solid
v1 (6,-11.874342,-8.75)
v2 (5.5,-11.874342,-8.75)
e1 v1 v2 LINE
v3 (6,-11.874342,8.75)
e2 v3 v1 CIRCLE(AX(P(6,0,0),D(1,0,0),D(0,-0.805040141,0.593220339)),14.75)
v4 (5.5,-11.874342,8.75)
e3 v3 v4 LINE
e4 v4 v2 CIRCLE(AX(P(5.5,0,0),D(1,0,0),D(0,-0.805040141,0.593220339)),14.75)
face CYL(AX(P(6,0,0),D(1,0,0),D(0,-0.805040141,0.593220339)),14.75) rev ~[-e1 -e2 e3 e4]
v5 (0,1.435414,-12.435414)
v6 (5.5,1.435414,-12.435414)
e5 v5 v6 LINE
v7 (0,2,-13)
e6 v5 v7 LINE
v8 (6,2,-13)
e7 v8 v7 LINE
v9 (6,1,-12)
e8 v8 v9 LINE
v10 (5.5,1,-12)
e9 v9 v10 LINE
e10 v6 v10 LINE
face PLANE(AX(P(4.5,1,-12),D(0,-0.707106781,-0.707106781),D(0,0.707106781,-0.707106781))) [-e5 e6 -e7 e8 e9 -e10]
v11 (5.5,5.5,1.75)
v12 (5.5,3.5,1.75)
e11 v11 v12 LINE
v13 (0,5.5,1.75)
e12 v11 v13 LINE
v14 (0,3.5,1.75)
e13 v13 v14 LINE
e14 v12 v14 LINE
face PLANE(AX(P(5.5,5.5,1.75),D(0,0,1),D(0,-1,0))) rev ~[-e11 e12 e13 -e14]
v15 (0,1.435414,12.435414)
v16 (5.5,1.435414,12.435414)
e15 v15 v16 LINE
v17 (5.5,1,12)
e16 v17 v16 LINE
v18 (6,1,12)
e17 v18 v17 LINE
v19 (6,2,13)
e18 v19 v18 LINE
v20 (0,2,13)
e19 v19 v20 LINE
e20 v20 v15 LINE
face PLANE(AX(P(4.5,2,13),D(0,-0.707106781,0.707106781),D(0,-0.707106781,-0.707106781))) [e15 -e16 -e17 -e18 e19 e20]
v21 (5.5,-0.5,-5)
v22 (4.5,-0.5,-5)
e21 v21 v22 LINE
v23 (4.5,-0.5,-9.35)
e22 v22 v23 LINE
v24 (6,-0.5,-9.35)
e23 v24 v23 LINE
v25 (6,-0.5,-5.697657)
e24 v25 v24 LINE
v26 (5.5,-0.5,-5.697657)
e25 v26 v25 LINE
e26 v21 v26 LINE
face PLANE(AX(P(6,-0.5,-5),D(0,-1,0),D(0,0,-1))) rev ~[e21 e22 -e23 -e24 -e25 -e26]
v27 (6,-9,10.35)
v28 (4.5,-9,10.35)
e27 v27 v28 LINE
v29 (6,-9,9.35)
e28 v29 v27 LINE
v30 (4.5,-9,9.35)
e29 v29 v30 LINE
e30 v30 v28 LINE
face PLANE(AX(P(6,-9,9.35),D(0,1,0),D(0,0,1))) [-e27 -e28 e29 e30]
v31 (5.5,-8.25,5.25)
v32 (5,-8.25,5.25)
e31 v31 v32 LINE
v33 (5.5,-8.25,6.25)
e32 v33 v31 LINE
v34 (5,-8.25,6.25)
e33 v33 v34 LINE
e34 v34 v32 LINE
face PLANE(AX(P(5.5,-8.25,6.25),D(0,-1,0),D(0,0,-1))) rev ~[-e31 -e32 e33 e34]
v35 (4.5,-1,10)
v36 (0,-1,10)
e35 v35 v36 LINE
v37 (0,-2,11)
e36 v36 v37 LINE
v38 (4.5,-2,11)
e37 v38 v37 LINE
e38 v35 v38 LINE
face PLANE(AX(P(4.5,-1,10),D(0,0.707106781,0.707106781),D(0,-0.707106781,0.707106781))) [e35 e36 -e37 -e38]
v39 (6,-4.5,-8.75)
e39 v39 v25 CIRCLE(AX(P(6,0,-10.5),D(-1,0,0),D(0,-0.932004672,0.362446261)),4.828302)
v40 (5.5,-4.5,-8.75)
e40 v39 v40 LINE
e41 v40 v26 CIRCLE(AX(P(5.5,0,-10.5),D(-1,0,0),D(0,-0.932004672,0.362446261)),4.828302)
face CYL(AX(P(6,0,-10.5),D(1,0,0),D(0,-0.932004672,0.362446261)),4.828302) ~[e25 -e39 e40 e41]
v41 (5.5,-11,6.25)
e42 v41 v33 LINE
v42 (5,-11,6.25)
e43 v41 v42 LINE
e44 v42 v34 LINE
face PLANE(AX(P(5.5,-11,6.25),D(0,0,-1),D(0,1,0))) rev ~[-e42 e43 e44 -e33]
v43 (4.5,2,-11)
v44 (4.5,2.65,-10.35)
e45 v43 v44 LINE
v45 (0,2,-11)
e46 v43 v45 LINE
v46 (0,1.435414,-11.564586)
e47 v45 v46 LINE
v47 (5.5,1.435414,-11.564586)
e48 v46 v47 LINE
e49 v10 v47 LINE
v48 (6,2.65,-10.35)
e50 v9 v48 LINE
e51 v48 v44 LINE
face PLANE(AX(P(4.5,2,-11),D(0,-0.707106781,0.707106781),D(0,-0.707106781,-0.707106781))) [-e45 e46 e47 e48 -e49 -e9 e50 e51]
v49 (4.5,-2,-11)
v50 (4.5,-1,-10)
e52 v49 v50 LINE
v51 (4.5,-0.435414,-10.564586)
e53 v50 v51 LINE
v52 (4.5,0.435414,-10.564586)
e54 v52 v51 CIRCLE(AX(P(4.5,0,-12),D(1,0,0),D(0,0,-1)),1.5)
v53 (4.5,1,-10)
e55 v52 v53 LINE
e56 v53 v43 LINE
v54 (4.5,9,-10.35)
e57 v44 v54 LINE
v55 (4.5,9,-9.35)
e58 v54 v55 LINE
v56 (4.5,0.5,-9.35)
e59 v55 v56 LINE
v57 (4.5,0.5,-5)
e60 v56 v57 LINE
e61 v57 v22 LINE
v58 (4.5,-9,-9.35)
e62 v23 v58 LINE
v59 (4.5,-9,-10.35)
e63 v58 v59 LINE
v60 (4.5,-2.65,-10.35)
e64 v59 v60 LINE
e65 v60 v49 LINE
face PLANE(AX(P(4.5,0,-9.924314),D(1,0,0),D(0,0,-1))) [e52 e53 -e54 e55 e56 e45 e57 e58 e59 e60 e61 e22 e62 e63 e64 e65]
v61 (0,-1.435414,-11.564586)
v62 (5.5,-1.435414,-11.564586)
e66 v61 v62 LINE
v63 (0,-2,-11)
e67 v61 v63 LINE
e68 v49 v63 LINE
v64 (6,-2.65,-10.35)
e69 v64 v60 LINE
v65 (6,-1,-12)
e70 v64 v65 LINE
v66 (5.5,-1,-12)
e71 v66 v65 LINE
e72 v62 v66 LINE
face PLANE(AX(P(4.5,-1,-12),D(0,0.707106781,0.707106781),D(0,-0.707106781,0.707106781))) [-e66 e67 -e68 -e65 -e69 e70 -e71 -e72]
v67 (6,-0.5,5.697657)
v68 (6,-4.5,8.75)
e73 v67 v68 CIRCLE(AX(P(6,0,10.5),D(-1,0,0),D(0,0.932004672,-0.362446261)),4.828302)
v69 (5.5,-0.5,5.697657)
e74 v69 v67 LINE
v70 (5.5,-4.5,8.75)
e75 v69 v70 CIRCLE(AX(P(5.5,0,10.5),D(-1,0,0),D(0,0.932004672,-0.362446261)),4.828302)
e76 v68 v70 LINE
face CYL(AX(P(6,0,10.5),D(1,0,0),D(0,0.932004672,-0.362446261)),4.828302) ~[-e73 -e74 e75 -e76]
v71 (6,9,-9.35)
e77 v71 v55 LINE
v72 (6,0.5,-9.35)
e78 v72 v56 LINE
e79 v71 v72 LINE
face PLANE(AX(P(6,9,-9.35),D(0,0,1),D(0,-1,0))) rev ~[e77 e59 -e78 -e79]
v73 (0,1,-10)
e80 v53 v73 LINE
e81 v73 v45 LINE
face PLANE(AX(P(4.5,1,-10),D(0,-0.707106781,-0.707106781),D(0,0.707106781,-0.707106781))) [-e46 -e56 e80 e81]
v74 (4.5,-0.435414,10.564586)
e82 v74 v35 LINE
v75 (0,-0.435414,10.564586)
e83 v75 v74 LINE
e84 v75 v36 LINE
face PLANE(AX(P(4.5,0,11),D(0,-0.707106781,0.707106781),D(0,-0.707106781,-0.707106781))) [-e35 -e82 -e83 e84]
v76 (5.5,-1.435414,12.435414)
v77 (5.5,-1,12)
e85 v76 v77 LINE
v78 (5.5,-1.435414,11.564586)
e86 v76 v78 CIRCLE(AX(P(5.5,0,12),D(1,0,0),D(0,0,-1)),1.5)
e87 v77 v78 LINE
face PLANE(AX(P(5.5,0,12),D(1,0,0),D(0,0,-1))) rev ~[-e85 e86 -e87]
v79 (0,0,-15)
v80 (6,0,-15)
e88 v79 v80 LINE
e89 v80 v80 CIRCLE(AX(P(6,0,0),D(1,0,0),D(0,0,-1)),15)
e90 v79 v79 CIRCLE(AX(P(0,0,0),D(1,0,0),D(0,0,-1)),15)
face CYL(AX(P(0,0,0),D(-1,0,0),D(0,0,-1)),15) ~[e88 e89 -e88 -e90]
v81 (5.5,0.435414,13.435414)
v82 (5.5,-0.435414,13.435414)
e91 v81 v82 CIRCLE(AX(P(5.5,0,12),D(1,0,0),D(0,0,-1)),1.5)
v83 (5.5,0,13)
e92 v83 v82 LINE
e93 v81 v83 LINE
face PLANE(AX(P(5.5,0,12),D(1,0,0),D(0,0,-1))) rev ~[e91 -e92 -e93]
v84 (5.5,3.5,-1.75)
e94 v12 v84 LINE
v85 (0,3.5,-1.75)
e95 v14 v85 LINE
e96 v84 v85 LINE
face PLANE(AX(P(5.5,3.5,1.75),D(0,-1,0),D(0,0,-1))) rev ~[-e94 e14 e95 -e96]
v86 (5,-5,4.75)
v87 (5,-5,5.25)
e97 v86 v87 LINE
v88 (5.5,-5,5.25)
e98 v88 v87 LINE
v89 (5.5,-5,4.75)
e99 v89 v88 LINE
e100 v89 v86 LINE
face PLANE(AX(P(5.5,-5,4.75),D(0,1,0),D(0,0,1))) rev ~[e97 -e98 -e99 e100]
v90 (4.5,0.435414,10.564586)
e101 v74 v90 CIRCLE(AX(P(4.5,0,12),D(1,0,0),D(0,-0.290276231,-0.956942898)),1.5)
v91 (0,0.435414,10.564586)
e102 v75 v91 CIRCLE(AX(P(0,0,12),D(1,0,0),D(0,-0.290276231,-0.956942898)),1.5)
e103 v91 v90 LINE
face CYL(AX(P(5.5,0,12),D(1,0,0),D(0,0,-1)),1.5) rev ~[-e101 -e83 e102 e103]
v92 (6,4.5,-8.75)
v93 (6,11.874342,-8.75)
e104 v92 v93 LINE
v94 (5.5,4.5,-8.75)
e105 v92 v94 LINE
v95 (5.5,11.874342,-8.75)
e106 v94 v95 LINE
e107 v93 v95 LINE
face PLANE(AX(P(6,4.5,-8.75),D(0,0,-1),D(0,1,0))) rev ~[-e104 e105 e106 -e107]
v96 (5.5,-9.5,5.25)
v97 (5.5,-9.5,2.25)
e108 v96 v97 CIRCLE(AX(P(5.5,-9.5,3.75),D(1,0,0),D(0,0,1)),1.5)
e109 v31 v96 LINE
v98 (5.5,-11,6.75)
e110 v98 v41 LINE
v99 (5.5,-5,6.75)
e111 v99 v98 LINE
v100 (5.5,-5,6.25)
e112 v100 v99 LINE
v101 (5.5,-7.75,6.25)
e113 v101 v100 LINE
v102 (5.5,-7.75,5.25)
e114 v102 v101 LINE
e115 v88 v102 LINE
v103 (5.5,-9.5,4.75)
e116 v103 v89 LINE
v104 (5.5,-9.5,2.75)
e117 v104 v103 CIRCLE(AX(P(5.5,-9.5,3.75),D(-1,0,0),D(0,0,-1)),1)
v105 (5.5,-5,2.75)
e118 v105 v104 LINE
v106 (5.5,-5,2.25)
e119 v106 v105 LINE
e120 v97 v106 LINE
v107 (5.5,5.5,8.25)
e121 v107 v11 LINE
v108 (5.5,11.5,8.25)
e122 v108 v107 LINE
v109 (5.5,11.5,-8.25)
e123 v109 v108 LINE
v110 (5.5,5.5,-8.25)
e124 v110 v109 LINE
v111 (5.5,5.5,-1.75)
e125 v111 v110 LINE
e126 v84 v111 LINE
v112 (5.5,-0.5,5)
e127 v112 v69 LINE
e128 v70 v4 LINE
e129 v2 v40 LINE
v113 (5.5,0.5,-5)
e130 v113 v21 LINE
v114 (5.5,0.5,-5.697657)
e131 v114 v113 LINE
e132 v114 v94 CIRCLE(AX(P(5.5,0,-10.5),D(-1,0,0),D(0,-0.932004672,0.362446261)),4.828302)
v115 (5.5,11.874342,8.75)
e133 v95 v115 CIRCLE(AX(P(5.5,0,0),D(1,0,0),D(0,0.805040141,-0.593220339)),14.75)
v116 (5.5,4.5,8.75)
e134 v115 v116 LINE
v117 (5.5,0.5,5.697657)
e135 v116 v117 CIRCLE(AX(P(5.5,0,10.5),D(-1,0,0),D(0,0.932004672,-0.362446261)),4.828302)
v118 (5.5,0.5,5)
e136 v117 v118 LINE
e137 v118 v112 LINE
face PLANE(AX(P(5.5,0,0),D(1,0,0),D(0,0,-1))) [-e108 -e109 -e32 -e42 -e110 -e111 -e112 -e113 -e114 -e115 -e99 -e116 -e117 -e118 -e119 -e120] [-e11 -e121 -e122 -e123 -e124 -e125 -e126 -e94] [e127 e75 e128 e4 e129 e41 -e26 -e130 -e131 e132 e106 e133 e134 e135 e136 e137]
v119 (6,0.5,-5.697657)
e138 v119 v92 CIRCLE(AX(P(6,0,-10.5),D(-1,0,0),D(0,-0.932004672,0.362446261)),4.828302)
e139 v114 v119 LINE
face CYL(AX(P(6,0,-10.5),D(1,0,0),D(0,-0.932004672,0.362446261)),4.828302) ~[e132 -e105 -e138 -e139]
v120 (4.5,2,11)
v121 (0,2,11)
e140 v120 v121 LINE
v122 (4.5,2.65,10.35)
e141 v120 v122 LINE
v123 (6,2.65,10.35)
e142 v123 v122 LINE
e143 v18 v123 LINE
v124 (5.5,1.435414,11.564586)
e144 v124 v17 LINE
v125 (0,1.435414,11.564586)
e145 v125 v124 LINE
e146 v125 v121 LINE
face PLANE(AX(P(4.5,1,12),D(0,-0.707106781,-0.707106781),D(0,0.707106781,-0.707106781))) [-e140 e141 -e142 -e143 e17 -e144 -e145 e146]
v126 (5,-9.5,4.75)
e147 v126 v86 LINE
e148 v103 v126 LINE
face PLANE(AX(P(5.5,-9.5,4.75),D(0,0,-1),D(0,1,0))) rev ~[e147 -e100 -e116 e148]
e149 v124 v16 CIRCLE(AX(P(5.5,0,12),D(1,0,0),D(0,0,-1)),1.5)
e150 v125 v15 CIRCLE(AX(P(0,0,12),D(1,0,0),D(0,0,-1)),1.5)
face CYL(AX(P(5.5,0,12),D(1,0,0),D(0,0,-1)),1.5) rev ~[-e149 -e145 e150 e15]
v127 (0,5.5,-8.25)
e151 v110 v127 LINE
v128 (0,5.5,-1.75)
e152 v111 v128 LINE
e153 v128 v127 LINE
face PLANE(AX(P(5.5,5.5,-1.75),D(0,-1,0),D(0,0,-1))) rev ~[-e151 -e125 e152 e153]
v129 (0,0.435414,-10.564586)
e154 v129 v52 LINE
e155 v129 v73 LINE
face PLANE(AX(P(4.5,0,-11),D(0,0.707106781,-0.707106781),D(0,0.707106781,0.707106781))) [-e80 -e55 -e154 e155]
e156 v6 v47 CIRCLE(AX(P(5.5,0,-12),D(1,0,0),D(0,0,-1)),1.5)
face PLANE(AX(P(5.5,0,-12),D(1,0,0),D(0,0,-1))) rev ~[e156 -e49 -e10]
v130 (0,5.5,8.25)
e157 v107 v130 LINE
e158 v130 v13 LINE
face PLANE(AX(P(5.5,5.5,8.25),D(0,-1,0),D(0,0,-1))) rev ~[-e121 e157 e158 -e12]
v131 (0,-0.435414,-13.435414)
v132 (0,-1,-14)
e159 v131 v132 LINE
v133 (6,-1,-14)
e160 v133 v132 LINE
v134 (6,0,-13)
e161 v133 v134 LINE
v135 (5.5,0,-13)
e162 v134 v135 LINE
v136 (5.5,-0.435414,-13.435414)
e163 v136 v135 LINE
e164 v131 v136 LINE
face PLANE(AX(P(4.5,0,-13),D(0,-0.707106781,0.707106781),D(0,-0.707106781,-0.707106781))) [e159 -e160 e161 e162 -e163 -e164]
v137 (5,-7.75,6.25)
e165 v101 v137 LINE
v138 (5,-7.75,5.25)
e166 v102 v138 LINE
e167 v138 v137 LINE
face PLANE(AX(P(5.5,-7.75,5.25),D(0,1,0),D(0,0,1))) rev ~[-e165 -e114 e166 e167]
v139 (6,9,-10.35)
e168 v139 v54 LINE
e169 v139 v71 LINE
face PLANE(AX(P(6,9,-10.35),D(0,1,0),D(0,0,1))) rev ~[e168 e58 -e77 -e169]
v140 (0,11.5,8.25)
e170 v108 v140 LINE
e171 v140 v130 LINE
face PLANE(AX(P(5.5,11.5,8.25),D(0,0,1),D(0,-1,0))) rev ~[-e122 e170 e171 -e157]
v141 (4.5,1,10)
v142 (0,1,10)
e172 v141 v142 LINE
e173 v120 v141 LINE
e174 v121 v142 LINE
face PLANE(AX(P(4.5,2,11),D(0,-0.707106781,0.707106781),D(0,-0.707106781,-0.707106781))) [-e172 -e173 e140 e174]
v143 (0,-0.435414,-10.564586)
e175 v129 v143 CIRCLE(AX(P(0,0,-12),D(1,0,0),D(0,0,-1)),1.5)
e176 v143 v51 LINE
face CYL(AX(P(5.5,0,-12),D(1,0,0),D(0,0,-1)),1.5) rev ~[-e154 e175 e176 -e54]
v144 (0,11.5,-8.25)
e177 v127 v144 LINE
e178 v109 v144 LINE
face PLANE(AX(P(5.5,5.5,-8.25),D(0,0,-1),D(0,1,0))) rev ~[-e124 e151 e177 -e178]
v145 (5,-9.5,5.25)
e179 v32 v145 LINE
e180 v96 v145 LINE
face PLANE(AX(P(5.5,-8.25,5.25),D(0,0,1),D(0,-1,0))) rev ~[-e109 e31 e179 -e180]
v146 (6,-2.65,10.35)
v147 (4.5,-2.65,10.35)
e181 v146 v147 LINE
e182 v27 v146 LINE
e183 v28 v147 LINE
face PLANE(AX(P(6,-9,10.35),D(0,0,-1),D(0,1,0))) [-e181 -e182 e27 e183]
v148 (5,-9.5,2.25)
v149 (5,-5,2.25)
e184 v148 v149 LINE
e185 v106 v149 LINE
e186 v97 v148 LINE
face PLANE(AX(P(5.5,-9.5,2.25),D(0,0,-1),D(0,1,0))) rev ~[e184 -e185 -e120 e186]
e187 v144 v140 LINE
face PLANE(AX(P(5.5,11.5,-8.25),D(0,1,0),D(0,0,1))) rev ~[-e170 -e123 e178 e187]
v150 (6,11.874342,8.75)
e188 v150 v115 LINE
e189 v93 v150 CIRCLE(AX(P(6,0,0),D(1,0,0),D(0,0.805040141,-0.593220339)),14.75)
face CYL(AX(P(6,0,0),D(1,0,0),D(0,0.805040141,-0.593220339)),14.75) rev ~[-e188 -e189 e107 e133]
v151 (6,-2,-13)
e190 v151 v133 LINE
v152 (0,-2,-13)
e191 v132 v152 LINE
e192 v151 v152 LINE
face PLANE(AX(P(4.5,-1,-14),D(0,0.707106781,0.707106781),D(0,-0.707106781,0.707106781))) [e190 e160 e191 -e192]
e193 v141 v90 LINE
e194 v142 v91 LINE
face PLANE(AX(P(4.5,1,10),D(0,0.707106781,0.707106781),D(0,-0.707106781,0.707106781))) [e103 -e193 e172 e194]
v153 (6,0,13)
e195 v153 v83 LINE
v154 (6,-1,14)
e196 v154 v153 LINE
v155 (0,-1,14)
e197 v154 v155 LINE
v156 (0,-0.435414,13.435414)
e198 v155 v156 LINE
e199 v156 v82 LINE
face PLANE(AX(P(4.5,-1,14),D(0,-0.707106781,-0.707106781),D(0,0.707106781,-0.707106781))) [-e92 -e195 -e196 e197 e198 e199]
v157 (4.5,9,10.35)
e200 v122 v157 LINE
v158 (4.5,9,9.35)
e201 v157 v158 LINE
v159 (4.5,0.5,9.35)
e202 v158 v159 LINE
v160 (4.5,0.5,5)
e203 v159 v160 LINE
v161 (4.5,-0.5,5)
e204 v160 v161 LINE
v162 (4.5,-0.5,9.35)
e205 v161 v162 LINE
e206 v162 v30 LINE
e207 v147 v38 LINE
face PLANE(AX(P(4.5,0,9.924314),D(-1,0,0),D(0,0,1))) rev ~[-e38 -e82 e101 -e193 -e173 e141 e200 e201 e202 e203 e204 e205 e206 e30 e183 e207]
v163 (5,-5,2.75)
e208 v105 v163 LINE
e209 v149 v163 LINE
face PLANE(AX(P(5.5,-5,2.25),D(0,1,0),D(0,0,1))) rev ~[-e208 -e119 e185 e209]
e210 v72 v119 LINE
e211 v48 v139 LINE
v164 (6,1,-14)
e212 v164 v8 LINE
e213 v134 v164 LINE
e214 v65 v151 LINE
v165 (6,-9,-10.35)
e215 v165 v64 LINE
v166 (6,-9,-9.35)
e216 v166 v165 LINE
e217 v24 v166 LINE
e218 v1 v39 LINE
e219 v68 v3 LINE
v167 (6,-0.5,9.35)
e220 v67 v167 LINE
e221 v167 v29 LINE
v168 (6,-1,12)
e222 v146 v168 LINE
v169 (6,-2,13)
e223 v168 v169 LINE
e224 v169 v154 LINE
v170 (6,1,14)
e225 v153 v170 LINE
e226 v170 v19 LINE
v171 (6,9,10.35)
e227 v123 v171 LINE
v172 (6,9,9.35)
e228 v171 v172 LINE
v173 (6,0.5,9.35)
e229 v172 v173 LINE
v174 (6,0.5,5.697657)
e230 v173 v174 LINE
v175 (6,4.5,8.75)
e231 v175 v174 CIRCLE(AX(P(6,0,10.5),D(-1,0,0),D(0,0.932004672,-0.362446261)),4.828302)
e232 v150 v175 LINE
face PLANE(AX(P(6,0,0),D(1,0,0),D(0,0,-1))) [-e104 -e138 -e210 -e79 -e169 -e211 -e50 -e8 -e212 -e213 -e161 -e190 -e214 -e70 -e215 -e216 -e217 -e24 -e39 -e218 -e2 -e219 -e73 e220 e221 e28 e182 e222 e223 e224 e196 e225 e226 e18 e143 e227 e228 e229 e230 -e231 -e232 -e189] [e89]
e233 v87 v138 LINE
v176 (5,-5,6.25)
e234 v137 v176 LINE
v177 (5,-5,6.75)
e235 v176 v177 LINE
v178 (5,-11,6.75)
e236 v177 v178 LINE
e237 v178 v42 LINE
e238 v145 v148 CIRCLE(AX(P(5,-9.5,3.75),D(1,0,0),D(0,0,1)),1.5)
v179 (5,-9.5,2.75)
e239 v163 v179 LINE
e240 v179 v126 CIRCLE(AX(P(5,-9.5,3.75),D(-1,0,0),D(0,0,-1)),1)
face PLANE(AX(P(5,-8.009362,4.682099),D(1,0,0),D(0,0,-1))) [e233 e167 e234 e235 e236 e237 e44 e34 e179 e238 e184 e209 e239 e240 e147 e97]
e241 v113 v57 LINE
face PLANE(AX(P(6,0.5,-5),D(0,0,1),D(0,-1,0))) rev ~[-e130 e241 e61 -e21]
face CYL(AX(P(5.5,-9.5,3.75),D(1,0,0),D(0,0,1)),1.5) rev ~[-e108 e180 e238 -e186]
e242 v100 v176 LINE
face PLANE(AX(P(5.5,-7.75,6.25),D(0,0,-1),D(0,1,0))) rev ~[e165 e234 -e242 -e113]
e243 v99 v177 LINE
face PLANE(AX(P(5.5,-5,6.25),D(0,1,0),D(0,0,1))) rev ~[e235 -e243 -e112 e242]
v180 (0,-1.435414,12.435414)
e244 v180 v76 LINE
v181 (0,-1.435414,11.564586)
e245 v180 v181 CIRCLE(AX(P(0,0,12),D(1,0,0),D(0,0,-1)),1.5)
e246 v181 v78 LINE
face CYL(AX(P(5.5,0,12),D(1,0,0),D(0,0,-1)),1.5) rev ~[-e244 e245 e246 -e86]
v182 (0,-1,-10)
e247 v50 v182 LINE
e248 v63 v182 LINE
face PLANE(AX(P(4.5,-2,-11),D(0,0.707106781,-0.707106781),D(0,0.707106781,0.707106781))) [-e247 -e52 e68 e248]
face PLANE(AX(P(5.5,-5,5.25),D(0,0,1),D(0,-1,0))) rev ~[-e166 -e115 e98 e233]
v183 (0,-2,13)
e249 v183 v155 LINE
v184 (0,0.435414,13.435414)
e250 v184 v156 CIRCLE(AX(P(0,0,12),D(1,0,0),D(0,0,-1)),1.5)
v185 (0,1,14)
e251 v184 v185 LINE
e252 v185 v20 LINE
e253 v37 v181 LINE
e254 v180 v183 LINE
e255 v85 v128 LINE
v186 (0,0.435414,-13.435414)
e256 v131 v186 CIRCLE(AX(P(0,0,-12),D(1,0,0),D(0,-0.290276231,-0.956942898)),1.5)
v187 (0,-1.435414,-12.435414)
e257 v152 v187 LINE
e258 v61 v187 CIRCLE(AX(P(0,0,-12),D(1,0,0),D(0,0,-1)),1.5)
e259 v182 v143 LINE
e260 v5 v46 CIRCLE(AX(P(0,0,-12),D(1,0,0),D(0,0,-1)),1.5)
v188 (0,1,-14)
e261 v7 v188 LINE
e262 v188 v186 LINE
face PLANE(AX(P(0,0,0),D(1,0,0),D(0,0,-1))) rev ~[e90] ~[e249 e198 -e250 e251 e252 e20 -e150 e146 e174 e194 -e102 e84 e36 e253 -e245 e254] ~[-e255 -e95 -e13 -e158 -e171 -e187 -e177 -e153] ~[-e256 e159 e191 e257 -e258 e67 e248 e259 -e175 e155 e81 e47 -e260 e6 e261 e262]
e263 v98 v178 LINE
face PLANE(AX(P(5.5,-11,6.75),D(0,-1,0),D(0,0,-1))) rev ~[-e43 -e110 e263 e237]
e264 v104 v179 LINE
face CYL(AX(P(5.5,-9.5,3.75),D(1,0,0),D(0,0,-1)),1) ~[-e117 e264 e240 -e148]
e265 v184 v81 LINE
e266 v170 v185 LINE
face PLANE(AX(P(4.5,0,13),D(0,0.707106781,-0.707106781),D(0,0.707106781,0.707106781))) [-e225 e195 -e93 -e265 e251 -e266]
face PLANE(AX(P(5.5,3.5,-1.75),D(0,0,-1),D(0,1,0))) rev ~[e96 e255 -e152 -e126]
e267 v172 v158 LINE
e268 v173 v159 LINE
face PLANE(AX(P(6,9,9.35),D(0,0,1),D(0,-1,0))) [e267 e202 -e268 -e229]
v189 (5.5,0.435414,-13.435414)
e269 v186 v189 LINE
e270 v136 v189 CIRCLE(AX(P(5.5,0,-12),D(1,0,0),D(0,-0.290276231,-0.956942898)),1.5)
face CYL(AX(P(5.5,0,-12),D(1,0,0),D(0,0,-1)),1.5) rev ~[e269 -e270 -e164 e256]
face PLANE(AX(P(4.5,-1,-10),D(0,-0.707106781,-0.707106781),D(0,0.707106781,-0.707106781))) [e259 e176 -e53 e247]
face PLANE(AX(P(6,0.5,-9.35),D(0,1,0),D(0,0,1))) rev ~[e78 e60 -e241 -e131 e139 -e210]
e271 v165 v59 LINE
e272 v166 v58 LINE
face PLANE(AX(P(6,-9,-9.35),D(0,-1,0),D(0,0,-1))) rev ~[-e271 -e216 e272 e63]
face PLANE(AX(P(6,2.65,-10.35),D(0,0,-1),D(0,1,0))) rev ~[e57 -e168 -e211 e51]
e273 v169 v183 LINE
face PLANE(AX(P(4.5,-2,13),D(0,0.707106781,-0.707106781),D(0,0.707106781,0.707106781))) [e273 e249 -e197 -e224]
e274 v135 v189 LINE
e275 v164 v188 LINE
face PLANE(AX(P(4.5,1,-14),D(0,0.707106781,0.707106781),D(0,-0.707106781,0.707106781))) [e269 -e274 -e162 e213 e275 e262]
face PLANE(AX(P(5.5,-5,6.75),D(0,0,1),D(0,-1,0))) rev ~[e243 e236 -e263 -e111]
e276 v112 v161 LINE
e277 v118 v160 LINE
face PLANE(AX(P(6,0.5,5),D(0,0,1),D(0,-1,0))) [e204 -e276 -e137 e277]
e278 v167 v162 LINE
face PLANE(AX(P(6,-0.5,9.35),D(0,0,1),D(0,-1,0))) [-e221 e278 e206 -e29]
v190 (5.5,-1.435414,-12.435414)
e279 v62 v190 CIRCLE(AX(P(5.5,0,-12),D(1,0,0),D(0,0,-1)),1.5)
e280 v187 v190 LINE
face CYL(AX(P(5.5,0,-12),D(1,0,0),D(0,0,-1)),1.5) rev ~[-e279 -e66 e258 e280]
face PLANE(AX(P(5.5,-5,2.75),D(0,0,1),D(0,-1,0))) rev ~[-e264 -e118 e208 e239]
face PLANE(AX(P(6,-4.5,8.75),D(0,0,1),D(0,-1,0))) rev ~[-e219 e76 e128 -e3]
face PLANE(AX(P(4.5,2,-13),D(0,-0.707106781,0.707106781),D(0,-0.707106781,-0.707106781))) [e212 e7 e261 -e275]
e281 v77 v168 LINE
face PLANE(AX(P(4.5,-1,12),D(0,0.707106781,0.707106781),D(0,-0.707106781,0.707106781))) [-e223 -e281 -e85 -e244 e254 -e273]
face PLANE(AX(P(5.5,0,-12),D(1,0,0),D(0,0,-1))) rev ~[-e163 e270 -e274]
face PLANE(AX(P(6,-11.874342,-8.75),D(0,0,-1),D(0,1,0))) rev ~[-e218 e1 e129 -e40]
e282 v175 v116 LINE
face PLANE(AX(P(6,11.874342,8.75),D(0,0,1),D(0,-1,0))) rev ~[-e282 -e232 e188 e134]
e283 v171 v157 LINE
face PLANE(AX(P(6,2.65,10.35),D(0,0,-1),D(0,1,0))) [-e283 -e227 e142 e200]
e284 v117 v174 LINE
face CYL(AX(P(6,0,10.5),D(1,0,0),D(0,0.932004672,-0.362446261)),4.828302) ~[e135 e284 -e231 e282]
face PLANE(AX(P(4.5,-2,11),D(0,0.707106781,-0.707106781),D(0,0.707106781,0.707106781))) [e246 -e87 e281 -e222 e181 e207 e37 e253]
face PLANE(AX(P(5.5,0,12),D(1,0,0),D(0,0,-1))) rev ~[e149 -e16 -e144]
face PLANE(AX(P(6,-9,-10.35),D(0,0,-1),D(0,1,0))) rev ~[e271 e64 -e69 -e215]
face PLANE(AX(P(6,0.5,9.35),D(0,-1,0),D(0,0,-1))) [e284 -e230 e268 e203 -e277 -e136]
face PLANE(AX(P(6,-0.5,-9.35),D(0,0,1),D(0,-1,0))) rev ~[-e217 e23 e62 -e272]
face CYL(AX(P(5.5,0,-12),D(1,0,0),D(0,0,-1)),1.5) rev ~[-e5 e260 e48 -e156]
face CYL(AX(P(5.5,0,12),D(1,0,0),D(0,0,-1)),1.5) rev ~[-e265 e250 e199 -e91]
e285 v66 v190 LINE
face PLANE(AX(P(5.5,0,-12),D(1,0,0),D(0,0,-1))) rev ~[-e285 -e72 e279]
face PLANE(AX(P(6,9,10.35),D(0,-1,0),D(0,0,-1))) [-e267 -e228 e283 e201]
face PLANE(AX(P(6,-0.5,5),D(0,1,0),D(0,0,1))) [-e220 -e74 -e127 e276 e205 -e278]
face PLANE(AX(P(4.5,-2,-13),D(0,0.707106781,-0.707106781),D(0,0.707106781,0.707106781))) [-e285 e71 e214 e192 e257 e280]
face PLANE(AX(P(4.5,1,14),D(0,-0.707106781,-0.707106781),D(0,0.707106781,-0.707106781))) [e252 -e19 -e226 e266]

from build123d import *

# Parameters (mm, degrees)
SKETCH1_R           = 15
BOSS_EXTRUDE1_DEPTH = 6
CUT_EXTRUDE1_DEPTH  = 0.5
CUT_EXTRUDE2_DEPTH  = 22.914607001
CUT_EXTRUDE4_DEPTH  = 1.5
CUT_EXTRUDE5_DEPTH  = 22.685248442
CUT_EXTRUDE7_DEPTH  = 0.5
SKETCH7_R           = 1.5
CUT_EXTRUDE6_DEPTH  = 10


with BuildPart() as part:
    # Sketch1 → Boss-Extrude1 (new body)
    with BuildSketch(Plane(origin=(0, 0, 0), x_dir=(0, 0, -1), z_dir=(1, 0, 0))):
        Circle(SKETCH1_R)
    extrude(amount=BOSS_EXTRUDE1_DEPTH)

    # Sketch2 → Cut-Extrude1 (cut)
    with BuildSketch(Plane(origin=(6, 0, 0), x_dir=(0, 0, -1), z_dir=(1, 0, 0))):
        with BuildLine():
            Line((-8.75, 11.874342087), (-8.75, 4.5))
            ThreePointArc((-8.75, 4.5), (-5.671698021, 0), (-8.75, -4.5))
            Line((-8.75, -4.5), (-8.75, -11.874342087))
            ThreePointArc((-8.75, -11.874342087), (0, -14.75), (8.75, -11.874342087))
            Line((8.75, -11.874342087), (8.75, -4.5))
            ThreePointArc((8.75, -4.5), (5.671698021, 0), (8.75, 4.5))
            Line((8.75, 4.5), (8.75, 11.874342087))
            ThreePointArc((8.75, 11.874342087), (0, 14.75), (-8.75, 11.874342087))
        make_face()
    extrude(amount=-CUT_EXTRUDE1_DEPTH, mode=Mode.SUBTRACT)

    # Sketch3 → Cut-Extrude2 (cut, through all)
    with BuildSketch(Plane(origin=(5.5, 0, 0), x_dir=(0, 0, -1), z_dir=(1, 0, 0))):
        Polygon((-8.25, 11.5), (-8.25, 5.5), (-1.75, 5.5), (-1.75, 3.5), (1.75, 3.5), (1.75, 5.5), (8.25, 5.5), (8.25, 11.5), align=None)
    extrude(amount=-CUT_EXTRUDE2_DEPTH, mode=Mode.SUBTRACT)

    # Sketch4 → Cut-Extrude4 (cut)
    with BuildSketch(Plane(origin=(6, 0, 0), x_dir=(0, 0, -1), z_dir=(1, 0, 0))):
        Polygon((-9.35, 9), (-9.35, 0.5), (-5, 0.5), (-5, -0.5), (-9.35, -0.5), (-9.35, -9), (-10.35, -9), (-10.35, -2.65), (-12, -1), (-13, -2), (-14, -1), (-13, 0), (-14, 1), (-13, 2), (-12, 1), (-10.35, 2.65), (-10.35, 9), align=None)
        Polygon((9.35, -0.5), (9.35, -9), (10.35, -9), (10.35, -2.65), (12, -1), (13, -2), (14, -1), (13, 0), (14, 1), (13, 2), (12, 1), (10.35, 2.65), (10.35, 9), (9.35, 9), (9.35, 0.5), (5, 0.5), (5, -0.5), align=None)
    extrude(amount=-CUT_EXTRUDE4_DEPTH, mode=Mode.SUBTRACT)

    # Sketch5 → Cut-Extrude5 (cut, through all)
    with BuildSketch(Plane(origin=(4.5, 0, 0), x_dir=(0, 0, -1), z_dir=(1, 0, 0))):
        Polygon((-12, -1), (-13, -2), (-14, -1), (-13, 0), (-14, 1), (-13, 2), (-12, 1), (-11, 2), (-10, 1), (-11, 0), (-10, -1), (-11, -2), align=None)
        Polygon((12, -1), (11, -2), (10, -1), (11, 0), (10, 1), (11, 2), (12, 1), (13, 2), (14, 1), (13, 0), (14, -1), (13, -2), align=None)
    extrude(amount=-CUT_EXTRUDE5_DEPTH, mode=Mode.SUBTRACT)

    # Sketch6 → Cut-Extrude7 (cut)
    with BuildSketch(Plane(origin=(5.5, 0, 0), x_dir=(0, 0, -1), z_dir=(1, 0, 0))):
        with BuildLine():
            Line((-6.75, -5), (-6.75, -11))
            Line((-6.75, -11), (-6.25, -11))
            Line((-6.25, -11), (-6.25, -8.25))
            Line((-6.25, -8.25), (-5.25, -8.25))
            Line((-5.25, -8.25), (-5.25, -9.5))
            ThreePointArc((-5.25, -9.5), (-3.75, -11), (-2.25, -9.5))
            Line((-2.25, -9.5), (-2.25, -5))
            Line((-2.25, -5), (-2.75, -5))
            Line((-2.75, -5), (-2.75, -9.5))
            ThreePointArc((-2.75, -9.5), (-3.75, -10.5), (-4.75, -9.5))
            Line((-4.75, -9.5), (-4.75, -5))
            Line((-4.75, -5), (-5.25, -5))
            Line((-5.25, -5), (-5.25, -7.75))
            Line((-5.25, -7.75), (-6.25, -7.75))
            Line((-6.25, -7.75), (-6.25, -5))
            Line((-6.25, -5), (-6.75, -5))
        make_face()
    extrude(amount=-CUT_EXTRUDE7_DEPTH, mode=Mode.SUBTRACT)

    # Sketch7 → Cut-Extrude6 (cut)
    with BuildSketch(Plane(origin=(5.5, 0, 0), x_dir=(0, 0, -1), z_dir=(1, 0, 0))):
        with Locations((-12, 0)):
            Circle(SKETCH7_R)
        with Locations((12, 0)):
            Circle(SKETCH7_R)
    extrude(amount=-CUT_EXTRUDE6_DEPTH, mode=Mode.SUBTRACT)


solid = part.part
